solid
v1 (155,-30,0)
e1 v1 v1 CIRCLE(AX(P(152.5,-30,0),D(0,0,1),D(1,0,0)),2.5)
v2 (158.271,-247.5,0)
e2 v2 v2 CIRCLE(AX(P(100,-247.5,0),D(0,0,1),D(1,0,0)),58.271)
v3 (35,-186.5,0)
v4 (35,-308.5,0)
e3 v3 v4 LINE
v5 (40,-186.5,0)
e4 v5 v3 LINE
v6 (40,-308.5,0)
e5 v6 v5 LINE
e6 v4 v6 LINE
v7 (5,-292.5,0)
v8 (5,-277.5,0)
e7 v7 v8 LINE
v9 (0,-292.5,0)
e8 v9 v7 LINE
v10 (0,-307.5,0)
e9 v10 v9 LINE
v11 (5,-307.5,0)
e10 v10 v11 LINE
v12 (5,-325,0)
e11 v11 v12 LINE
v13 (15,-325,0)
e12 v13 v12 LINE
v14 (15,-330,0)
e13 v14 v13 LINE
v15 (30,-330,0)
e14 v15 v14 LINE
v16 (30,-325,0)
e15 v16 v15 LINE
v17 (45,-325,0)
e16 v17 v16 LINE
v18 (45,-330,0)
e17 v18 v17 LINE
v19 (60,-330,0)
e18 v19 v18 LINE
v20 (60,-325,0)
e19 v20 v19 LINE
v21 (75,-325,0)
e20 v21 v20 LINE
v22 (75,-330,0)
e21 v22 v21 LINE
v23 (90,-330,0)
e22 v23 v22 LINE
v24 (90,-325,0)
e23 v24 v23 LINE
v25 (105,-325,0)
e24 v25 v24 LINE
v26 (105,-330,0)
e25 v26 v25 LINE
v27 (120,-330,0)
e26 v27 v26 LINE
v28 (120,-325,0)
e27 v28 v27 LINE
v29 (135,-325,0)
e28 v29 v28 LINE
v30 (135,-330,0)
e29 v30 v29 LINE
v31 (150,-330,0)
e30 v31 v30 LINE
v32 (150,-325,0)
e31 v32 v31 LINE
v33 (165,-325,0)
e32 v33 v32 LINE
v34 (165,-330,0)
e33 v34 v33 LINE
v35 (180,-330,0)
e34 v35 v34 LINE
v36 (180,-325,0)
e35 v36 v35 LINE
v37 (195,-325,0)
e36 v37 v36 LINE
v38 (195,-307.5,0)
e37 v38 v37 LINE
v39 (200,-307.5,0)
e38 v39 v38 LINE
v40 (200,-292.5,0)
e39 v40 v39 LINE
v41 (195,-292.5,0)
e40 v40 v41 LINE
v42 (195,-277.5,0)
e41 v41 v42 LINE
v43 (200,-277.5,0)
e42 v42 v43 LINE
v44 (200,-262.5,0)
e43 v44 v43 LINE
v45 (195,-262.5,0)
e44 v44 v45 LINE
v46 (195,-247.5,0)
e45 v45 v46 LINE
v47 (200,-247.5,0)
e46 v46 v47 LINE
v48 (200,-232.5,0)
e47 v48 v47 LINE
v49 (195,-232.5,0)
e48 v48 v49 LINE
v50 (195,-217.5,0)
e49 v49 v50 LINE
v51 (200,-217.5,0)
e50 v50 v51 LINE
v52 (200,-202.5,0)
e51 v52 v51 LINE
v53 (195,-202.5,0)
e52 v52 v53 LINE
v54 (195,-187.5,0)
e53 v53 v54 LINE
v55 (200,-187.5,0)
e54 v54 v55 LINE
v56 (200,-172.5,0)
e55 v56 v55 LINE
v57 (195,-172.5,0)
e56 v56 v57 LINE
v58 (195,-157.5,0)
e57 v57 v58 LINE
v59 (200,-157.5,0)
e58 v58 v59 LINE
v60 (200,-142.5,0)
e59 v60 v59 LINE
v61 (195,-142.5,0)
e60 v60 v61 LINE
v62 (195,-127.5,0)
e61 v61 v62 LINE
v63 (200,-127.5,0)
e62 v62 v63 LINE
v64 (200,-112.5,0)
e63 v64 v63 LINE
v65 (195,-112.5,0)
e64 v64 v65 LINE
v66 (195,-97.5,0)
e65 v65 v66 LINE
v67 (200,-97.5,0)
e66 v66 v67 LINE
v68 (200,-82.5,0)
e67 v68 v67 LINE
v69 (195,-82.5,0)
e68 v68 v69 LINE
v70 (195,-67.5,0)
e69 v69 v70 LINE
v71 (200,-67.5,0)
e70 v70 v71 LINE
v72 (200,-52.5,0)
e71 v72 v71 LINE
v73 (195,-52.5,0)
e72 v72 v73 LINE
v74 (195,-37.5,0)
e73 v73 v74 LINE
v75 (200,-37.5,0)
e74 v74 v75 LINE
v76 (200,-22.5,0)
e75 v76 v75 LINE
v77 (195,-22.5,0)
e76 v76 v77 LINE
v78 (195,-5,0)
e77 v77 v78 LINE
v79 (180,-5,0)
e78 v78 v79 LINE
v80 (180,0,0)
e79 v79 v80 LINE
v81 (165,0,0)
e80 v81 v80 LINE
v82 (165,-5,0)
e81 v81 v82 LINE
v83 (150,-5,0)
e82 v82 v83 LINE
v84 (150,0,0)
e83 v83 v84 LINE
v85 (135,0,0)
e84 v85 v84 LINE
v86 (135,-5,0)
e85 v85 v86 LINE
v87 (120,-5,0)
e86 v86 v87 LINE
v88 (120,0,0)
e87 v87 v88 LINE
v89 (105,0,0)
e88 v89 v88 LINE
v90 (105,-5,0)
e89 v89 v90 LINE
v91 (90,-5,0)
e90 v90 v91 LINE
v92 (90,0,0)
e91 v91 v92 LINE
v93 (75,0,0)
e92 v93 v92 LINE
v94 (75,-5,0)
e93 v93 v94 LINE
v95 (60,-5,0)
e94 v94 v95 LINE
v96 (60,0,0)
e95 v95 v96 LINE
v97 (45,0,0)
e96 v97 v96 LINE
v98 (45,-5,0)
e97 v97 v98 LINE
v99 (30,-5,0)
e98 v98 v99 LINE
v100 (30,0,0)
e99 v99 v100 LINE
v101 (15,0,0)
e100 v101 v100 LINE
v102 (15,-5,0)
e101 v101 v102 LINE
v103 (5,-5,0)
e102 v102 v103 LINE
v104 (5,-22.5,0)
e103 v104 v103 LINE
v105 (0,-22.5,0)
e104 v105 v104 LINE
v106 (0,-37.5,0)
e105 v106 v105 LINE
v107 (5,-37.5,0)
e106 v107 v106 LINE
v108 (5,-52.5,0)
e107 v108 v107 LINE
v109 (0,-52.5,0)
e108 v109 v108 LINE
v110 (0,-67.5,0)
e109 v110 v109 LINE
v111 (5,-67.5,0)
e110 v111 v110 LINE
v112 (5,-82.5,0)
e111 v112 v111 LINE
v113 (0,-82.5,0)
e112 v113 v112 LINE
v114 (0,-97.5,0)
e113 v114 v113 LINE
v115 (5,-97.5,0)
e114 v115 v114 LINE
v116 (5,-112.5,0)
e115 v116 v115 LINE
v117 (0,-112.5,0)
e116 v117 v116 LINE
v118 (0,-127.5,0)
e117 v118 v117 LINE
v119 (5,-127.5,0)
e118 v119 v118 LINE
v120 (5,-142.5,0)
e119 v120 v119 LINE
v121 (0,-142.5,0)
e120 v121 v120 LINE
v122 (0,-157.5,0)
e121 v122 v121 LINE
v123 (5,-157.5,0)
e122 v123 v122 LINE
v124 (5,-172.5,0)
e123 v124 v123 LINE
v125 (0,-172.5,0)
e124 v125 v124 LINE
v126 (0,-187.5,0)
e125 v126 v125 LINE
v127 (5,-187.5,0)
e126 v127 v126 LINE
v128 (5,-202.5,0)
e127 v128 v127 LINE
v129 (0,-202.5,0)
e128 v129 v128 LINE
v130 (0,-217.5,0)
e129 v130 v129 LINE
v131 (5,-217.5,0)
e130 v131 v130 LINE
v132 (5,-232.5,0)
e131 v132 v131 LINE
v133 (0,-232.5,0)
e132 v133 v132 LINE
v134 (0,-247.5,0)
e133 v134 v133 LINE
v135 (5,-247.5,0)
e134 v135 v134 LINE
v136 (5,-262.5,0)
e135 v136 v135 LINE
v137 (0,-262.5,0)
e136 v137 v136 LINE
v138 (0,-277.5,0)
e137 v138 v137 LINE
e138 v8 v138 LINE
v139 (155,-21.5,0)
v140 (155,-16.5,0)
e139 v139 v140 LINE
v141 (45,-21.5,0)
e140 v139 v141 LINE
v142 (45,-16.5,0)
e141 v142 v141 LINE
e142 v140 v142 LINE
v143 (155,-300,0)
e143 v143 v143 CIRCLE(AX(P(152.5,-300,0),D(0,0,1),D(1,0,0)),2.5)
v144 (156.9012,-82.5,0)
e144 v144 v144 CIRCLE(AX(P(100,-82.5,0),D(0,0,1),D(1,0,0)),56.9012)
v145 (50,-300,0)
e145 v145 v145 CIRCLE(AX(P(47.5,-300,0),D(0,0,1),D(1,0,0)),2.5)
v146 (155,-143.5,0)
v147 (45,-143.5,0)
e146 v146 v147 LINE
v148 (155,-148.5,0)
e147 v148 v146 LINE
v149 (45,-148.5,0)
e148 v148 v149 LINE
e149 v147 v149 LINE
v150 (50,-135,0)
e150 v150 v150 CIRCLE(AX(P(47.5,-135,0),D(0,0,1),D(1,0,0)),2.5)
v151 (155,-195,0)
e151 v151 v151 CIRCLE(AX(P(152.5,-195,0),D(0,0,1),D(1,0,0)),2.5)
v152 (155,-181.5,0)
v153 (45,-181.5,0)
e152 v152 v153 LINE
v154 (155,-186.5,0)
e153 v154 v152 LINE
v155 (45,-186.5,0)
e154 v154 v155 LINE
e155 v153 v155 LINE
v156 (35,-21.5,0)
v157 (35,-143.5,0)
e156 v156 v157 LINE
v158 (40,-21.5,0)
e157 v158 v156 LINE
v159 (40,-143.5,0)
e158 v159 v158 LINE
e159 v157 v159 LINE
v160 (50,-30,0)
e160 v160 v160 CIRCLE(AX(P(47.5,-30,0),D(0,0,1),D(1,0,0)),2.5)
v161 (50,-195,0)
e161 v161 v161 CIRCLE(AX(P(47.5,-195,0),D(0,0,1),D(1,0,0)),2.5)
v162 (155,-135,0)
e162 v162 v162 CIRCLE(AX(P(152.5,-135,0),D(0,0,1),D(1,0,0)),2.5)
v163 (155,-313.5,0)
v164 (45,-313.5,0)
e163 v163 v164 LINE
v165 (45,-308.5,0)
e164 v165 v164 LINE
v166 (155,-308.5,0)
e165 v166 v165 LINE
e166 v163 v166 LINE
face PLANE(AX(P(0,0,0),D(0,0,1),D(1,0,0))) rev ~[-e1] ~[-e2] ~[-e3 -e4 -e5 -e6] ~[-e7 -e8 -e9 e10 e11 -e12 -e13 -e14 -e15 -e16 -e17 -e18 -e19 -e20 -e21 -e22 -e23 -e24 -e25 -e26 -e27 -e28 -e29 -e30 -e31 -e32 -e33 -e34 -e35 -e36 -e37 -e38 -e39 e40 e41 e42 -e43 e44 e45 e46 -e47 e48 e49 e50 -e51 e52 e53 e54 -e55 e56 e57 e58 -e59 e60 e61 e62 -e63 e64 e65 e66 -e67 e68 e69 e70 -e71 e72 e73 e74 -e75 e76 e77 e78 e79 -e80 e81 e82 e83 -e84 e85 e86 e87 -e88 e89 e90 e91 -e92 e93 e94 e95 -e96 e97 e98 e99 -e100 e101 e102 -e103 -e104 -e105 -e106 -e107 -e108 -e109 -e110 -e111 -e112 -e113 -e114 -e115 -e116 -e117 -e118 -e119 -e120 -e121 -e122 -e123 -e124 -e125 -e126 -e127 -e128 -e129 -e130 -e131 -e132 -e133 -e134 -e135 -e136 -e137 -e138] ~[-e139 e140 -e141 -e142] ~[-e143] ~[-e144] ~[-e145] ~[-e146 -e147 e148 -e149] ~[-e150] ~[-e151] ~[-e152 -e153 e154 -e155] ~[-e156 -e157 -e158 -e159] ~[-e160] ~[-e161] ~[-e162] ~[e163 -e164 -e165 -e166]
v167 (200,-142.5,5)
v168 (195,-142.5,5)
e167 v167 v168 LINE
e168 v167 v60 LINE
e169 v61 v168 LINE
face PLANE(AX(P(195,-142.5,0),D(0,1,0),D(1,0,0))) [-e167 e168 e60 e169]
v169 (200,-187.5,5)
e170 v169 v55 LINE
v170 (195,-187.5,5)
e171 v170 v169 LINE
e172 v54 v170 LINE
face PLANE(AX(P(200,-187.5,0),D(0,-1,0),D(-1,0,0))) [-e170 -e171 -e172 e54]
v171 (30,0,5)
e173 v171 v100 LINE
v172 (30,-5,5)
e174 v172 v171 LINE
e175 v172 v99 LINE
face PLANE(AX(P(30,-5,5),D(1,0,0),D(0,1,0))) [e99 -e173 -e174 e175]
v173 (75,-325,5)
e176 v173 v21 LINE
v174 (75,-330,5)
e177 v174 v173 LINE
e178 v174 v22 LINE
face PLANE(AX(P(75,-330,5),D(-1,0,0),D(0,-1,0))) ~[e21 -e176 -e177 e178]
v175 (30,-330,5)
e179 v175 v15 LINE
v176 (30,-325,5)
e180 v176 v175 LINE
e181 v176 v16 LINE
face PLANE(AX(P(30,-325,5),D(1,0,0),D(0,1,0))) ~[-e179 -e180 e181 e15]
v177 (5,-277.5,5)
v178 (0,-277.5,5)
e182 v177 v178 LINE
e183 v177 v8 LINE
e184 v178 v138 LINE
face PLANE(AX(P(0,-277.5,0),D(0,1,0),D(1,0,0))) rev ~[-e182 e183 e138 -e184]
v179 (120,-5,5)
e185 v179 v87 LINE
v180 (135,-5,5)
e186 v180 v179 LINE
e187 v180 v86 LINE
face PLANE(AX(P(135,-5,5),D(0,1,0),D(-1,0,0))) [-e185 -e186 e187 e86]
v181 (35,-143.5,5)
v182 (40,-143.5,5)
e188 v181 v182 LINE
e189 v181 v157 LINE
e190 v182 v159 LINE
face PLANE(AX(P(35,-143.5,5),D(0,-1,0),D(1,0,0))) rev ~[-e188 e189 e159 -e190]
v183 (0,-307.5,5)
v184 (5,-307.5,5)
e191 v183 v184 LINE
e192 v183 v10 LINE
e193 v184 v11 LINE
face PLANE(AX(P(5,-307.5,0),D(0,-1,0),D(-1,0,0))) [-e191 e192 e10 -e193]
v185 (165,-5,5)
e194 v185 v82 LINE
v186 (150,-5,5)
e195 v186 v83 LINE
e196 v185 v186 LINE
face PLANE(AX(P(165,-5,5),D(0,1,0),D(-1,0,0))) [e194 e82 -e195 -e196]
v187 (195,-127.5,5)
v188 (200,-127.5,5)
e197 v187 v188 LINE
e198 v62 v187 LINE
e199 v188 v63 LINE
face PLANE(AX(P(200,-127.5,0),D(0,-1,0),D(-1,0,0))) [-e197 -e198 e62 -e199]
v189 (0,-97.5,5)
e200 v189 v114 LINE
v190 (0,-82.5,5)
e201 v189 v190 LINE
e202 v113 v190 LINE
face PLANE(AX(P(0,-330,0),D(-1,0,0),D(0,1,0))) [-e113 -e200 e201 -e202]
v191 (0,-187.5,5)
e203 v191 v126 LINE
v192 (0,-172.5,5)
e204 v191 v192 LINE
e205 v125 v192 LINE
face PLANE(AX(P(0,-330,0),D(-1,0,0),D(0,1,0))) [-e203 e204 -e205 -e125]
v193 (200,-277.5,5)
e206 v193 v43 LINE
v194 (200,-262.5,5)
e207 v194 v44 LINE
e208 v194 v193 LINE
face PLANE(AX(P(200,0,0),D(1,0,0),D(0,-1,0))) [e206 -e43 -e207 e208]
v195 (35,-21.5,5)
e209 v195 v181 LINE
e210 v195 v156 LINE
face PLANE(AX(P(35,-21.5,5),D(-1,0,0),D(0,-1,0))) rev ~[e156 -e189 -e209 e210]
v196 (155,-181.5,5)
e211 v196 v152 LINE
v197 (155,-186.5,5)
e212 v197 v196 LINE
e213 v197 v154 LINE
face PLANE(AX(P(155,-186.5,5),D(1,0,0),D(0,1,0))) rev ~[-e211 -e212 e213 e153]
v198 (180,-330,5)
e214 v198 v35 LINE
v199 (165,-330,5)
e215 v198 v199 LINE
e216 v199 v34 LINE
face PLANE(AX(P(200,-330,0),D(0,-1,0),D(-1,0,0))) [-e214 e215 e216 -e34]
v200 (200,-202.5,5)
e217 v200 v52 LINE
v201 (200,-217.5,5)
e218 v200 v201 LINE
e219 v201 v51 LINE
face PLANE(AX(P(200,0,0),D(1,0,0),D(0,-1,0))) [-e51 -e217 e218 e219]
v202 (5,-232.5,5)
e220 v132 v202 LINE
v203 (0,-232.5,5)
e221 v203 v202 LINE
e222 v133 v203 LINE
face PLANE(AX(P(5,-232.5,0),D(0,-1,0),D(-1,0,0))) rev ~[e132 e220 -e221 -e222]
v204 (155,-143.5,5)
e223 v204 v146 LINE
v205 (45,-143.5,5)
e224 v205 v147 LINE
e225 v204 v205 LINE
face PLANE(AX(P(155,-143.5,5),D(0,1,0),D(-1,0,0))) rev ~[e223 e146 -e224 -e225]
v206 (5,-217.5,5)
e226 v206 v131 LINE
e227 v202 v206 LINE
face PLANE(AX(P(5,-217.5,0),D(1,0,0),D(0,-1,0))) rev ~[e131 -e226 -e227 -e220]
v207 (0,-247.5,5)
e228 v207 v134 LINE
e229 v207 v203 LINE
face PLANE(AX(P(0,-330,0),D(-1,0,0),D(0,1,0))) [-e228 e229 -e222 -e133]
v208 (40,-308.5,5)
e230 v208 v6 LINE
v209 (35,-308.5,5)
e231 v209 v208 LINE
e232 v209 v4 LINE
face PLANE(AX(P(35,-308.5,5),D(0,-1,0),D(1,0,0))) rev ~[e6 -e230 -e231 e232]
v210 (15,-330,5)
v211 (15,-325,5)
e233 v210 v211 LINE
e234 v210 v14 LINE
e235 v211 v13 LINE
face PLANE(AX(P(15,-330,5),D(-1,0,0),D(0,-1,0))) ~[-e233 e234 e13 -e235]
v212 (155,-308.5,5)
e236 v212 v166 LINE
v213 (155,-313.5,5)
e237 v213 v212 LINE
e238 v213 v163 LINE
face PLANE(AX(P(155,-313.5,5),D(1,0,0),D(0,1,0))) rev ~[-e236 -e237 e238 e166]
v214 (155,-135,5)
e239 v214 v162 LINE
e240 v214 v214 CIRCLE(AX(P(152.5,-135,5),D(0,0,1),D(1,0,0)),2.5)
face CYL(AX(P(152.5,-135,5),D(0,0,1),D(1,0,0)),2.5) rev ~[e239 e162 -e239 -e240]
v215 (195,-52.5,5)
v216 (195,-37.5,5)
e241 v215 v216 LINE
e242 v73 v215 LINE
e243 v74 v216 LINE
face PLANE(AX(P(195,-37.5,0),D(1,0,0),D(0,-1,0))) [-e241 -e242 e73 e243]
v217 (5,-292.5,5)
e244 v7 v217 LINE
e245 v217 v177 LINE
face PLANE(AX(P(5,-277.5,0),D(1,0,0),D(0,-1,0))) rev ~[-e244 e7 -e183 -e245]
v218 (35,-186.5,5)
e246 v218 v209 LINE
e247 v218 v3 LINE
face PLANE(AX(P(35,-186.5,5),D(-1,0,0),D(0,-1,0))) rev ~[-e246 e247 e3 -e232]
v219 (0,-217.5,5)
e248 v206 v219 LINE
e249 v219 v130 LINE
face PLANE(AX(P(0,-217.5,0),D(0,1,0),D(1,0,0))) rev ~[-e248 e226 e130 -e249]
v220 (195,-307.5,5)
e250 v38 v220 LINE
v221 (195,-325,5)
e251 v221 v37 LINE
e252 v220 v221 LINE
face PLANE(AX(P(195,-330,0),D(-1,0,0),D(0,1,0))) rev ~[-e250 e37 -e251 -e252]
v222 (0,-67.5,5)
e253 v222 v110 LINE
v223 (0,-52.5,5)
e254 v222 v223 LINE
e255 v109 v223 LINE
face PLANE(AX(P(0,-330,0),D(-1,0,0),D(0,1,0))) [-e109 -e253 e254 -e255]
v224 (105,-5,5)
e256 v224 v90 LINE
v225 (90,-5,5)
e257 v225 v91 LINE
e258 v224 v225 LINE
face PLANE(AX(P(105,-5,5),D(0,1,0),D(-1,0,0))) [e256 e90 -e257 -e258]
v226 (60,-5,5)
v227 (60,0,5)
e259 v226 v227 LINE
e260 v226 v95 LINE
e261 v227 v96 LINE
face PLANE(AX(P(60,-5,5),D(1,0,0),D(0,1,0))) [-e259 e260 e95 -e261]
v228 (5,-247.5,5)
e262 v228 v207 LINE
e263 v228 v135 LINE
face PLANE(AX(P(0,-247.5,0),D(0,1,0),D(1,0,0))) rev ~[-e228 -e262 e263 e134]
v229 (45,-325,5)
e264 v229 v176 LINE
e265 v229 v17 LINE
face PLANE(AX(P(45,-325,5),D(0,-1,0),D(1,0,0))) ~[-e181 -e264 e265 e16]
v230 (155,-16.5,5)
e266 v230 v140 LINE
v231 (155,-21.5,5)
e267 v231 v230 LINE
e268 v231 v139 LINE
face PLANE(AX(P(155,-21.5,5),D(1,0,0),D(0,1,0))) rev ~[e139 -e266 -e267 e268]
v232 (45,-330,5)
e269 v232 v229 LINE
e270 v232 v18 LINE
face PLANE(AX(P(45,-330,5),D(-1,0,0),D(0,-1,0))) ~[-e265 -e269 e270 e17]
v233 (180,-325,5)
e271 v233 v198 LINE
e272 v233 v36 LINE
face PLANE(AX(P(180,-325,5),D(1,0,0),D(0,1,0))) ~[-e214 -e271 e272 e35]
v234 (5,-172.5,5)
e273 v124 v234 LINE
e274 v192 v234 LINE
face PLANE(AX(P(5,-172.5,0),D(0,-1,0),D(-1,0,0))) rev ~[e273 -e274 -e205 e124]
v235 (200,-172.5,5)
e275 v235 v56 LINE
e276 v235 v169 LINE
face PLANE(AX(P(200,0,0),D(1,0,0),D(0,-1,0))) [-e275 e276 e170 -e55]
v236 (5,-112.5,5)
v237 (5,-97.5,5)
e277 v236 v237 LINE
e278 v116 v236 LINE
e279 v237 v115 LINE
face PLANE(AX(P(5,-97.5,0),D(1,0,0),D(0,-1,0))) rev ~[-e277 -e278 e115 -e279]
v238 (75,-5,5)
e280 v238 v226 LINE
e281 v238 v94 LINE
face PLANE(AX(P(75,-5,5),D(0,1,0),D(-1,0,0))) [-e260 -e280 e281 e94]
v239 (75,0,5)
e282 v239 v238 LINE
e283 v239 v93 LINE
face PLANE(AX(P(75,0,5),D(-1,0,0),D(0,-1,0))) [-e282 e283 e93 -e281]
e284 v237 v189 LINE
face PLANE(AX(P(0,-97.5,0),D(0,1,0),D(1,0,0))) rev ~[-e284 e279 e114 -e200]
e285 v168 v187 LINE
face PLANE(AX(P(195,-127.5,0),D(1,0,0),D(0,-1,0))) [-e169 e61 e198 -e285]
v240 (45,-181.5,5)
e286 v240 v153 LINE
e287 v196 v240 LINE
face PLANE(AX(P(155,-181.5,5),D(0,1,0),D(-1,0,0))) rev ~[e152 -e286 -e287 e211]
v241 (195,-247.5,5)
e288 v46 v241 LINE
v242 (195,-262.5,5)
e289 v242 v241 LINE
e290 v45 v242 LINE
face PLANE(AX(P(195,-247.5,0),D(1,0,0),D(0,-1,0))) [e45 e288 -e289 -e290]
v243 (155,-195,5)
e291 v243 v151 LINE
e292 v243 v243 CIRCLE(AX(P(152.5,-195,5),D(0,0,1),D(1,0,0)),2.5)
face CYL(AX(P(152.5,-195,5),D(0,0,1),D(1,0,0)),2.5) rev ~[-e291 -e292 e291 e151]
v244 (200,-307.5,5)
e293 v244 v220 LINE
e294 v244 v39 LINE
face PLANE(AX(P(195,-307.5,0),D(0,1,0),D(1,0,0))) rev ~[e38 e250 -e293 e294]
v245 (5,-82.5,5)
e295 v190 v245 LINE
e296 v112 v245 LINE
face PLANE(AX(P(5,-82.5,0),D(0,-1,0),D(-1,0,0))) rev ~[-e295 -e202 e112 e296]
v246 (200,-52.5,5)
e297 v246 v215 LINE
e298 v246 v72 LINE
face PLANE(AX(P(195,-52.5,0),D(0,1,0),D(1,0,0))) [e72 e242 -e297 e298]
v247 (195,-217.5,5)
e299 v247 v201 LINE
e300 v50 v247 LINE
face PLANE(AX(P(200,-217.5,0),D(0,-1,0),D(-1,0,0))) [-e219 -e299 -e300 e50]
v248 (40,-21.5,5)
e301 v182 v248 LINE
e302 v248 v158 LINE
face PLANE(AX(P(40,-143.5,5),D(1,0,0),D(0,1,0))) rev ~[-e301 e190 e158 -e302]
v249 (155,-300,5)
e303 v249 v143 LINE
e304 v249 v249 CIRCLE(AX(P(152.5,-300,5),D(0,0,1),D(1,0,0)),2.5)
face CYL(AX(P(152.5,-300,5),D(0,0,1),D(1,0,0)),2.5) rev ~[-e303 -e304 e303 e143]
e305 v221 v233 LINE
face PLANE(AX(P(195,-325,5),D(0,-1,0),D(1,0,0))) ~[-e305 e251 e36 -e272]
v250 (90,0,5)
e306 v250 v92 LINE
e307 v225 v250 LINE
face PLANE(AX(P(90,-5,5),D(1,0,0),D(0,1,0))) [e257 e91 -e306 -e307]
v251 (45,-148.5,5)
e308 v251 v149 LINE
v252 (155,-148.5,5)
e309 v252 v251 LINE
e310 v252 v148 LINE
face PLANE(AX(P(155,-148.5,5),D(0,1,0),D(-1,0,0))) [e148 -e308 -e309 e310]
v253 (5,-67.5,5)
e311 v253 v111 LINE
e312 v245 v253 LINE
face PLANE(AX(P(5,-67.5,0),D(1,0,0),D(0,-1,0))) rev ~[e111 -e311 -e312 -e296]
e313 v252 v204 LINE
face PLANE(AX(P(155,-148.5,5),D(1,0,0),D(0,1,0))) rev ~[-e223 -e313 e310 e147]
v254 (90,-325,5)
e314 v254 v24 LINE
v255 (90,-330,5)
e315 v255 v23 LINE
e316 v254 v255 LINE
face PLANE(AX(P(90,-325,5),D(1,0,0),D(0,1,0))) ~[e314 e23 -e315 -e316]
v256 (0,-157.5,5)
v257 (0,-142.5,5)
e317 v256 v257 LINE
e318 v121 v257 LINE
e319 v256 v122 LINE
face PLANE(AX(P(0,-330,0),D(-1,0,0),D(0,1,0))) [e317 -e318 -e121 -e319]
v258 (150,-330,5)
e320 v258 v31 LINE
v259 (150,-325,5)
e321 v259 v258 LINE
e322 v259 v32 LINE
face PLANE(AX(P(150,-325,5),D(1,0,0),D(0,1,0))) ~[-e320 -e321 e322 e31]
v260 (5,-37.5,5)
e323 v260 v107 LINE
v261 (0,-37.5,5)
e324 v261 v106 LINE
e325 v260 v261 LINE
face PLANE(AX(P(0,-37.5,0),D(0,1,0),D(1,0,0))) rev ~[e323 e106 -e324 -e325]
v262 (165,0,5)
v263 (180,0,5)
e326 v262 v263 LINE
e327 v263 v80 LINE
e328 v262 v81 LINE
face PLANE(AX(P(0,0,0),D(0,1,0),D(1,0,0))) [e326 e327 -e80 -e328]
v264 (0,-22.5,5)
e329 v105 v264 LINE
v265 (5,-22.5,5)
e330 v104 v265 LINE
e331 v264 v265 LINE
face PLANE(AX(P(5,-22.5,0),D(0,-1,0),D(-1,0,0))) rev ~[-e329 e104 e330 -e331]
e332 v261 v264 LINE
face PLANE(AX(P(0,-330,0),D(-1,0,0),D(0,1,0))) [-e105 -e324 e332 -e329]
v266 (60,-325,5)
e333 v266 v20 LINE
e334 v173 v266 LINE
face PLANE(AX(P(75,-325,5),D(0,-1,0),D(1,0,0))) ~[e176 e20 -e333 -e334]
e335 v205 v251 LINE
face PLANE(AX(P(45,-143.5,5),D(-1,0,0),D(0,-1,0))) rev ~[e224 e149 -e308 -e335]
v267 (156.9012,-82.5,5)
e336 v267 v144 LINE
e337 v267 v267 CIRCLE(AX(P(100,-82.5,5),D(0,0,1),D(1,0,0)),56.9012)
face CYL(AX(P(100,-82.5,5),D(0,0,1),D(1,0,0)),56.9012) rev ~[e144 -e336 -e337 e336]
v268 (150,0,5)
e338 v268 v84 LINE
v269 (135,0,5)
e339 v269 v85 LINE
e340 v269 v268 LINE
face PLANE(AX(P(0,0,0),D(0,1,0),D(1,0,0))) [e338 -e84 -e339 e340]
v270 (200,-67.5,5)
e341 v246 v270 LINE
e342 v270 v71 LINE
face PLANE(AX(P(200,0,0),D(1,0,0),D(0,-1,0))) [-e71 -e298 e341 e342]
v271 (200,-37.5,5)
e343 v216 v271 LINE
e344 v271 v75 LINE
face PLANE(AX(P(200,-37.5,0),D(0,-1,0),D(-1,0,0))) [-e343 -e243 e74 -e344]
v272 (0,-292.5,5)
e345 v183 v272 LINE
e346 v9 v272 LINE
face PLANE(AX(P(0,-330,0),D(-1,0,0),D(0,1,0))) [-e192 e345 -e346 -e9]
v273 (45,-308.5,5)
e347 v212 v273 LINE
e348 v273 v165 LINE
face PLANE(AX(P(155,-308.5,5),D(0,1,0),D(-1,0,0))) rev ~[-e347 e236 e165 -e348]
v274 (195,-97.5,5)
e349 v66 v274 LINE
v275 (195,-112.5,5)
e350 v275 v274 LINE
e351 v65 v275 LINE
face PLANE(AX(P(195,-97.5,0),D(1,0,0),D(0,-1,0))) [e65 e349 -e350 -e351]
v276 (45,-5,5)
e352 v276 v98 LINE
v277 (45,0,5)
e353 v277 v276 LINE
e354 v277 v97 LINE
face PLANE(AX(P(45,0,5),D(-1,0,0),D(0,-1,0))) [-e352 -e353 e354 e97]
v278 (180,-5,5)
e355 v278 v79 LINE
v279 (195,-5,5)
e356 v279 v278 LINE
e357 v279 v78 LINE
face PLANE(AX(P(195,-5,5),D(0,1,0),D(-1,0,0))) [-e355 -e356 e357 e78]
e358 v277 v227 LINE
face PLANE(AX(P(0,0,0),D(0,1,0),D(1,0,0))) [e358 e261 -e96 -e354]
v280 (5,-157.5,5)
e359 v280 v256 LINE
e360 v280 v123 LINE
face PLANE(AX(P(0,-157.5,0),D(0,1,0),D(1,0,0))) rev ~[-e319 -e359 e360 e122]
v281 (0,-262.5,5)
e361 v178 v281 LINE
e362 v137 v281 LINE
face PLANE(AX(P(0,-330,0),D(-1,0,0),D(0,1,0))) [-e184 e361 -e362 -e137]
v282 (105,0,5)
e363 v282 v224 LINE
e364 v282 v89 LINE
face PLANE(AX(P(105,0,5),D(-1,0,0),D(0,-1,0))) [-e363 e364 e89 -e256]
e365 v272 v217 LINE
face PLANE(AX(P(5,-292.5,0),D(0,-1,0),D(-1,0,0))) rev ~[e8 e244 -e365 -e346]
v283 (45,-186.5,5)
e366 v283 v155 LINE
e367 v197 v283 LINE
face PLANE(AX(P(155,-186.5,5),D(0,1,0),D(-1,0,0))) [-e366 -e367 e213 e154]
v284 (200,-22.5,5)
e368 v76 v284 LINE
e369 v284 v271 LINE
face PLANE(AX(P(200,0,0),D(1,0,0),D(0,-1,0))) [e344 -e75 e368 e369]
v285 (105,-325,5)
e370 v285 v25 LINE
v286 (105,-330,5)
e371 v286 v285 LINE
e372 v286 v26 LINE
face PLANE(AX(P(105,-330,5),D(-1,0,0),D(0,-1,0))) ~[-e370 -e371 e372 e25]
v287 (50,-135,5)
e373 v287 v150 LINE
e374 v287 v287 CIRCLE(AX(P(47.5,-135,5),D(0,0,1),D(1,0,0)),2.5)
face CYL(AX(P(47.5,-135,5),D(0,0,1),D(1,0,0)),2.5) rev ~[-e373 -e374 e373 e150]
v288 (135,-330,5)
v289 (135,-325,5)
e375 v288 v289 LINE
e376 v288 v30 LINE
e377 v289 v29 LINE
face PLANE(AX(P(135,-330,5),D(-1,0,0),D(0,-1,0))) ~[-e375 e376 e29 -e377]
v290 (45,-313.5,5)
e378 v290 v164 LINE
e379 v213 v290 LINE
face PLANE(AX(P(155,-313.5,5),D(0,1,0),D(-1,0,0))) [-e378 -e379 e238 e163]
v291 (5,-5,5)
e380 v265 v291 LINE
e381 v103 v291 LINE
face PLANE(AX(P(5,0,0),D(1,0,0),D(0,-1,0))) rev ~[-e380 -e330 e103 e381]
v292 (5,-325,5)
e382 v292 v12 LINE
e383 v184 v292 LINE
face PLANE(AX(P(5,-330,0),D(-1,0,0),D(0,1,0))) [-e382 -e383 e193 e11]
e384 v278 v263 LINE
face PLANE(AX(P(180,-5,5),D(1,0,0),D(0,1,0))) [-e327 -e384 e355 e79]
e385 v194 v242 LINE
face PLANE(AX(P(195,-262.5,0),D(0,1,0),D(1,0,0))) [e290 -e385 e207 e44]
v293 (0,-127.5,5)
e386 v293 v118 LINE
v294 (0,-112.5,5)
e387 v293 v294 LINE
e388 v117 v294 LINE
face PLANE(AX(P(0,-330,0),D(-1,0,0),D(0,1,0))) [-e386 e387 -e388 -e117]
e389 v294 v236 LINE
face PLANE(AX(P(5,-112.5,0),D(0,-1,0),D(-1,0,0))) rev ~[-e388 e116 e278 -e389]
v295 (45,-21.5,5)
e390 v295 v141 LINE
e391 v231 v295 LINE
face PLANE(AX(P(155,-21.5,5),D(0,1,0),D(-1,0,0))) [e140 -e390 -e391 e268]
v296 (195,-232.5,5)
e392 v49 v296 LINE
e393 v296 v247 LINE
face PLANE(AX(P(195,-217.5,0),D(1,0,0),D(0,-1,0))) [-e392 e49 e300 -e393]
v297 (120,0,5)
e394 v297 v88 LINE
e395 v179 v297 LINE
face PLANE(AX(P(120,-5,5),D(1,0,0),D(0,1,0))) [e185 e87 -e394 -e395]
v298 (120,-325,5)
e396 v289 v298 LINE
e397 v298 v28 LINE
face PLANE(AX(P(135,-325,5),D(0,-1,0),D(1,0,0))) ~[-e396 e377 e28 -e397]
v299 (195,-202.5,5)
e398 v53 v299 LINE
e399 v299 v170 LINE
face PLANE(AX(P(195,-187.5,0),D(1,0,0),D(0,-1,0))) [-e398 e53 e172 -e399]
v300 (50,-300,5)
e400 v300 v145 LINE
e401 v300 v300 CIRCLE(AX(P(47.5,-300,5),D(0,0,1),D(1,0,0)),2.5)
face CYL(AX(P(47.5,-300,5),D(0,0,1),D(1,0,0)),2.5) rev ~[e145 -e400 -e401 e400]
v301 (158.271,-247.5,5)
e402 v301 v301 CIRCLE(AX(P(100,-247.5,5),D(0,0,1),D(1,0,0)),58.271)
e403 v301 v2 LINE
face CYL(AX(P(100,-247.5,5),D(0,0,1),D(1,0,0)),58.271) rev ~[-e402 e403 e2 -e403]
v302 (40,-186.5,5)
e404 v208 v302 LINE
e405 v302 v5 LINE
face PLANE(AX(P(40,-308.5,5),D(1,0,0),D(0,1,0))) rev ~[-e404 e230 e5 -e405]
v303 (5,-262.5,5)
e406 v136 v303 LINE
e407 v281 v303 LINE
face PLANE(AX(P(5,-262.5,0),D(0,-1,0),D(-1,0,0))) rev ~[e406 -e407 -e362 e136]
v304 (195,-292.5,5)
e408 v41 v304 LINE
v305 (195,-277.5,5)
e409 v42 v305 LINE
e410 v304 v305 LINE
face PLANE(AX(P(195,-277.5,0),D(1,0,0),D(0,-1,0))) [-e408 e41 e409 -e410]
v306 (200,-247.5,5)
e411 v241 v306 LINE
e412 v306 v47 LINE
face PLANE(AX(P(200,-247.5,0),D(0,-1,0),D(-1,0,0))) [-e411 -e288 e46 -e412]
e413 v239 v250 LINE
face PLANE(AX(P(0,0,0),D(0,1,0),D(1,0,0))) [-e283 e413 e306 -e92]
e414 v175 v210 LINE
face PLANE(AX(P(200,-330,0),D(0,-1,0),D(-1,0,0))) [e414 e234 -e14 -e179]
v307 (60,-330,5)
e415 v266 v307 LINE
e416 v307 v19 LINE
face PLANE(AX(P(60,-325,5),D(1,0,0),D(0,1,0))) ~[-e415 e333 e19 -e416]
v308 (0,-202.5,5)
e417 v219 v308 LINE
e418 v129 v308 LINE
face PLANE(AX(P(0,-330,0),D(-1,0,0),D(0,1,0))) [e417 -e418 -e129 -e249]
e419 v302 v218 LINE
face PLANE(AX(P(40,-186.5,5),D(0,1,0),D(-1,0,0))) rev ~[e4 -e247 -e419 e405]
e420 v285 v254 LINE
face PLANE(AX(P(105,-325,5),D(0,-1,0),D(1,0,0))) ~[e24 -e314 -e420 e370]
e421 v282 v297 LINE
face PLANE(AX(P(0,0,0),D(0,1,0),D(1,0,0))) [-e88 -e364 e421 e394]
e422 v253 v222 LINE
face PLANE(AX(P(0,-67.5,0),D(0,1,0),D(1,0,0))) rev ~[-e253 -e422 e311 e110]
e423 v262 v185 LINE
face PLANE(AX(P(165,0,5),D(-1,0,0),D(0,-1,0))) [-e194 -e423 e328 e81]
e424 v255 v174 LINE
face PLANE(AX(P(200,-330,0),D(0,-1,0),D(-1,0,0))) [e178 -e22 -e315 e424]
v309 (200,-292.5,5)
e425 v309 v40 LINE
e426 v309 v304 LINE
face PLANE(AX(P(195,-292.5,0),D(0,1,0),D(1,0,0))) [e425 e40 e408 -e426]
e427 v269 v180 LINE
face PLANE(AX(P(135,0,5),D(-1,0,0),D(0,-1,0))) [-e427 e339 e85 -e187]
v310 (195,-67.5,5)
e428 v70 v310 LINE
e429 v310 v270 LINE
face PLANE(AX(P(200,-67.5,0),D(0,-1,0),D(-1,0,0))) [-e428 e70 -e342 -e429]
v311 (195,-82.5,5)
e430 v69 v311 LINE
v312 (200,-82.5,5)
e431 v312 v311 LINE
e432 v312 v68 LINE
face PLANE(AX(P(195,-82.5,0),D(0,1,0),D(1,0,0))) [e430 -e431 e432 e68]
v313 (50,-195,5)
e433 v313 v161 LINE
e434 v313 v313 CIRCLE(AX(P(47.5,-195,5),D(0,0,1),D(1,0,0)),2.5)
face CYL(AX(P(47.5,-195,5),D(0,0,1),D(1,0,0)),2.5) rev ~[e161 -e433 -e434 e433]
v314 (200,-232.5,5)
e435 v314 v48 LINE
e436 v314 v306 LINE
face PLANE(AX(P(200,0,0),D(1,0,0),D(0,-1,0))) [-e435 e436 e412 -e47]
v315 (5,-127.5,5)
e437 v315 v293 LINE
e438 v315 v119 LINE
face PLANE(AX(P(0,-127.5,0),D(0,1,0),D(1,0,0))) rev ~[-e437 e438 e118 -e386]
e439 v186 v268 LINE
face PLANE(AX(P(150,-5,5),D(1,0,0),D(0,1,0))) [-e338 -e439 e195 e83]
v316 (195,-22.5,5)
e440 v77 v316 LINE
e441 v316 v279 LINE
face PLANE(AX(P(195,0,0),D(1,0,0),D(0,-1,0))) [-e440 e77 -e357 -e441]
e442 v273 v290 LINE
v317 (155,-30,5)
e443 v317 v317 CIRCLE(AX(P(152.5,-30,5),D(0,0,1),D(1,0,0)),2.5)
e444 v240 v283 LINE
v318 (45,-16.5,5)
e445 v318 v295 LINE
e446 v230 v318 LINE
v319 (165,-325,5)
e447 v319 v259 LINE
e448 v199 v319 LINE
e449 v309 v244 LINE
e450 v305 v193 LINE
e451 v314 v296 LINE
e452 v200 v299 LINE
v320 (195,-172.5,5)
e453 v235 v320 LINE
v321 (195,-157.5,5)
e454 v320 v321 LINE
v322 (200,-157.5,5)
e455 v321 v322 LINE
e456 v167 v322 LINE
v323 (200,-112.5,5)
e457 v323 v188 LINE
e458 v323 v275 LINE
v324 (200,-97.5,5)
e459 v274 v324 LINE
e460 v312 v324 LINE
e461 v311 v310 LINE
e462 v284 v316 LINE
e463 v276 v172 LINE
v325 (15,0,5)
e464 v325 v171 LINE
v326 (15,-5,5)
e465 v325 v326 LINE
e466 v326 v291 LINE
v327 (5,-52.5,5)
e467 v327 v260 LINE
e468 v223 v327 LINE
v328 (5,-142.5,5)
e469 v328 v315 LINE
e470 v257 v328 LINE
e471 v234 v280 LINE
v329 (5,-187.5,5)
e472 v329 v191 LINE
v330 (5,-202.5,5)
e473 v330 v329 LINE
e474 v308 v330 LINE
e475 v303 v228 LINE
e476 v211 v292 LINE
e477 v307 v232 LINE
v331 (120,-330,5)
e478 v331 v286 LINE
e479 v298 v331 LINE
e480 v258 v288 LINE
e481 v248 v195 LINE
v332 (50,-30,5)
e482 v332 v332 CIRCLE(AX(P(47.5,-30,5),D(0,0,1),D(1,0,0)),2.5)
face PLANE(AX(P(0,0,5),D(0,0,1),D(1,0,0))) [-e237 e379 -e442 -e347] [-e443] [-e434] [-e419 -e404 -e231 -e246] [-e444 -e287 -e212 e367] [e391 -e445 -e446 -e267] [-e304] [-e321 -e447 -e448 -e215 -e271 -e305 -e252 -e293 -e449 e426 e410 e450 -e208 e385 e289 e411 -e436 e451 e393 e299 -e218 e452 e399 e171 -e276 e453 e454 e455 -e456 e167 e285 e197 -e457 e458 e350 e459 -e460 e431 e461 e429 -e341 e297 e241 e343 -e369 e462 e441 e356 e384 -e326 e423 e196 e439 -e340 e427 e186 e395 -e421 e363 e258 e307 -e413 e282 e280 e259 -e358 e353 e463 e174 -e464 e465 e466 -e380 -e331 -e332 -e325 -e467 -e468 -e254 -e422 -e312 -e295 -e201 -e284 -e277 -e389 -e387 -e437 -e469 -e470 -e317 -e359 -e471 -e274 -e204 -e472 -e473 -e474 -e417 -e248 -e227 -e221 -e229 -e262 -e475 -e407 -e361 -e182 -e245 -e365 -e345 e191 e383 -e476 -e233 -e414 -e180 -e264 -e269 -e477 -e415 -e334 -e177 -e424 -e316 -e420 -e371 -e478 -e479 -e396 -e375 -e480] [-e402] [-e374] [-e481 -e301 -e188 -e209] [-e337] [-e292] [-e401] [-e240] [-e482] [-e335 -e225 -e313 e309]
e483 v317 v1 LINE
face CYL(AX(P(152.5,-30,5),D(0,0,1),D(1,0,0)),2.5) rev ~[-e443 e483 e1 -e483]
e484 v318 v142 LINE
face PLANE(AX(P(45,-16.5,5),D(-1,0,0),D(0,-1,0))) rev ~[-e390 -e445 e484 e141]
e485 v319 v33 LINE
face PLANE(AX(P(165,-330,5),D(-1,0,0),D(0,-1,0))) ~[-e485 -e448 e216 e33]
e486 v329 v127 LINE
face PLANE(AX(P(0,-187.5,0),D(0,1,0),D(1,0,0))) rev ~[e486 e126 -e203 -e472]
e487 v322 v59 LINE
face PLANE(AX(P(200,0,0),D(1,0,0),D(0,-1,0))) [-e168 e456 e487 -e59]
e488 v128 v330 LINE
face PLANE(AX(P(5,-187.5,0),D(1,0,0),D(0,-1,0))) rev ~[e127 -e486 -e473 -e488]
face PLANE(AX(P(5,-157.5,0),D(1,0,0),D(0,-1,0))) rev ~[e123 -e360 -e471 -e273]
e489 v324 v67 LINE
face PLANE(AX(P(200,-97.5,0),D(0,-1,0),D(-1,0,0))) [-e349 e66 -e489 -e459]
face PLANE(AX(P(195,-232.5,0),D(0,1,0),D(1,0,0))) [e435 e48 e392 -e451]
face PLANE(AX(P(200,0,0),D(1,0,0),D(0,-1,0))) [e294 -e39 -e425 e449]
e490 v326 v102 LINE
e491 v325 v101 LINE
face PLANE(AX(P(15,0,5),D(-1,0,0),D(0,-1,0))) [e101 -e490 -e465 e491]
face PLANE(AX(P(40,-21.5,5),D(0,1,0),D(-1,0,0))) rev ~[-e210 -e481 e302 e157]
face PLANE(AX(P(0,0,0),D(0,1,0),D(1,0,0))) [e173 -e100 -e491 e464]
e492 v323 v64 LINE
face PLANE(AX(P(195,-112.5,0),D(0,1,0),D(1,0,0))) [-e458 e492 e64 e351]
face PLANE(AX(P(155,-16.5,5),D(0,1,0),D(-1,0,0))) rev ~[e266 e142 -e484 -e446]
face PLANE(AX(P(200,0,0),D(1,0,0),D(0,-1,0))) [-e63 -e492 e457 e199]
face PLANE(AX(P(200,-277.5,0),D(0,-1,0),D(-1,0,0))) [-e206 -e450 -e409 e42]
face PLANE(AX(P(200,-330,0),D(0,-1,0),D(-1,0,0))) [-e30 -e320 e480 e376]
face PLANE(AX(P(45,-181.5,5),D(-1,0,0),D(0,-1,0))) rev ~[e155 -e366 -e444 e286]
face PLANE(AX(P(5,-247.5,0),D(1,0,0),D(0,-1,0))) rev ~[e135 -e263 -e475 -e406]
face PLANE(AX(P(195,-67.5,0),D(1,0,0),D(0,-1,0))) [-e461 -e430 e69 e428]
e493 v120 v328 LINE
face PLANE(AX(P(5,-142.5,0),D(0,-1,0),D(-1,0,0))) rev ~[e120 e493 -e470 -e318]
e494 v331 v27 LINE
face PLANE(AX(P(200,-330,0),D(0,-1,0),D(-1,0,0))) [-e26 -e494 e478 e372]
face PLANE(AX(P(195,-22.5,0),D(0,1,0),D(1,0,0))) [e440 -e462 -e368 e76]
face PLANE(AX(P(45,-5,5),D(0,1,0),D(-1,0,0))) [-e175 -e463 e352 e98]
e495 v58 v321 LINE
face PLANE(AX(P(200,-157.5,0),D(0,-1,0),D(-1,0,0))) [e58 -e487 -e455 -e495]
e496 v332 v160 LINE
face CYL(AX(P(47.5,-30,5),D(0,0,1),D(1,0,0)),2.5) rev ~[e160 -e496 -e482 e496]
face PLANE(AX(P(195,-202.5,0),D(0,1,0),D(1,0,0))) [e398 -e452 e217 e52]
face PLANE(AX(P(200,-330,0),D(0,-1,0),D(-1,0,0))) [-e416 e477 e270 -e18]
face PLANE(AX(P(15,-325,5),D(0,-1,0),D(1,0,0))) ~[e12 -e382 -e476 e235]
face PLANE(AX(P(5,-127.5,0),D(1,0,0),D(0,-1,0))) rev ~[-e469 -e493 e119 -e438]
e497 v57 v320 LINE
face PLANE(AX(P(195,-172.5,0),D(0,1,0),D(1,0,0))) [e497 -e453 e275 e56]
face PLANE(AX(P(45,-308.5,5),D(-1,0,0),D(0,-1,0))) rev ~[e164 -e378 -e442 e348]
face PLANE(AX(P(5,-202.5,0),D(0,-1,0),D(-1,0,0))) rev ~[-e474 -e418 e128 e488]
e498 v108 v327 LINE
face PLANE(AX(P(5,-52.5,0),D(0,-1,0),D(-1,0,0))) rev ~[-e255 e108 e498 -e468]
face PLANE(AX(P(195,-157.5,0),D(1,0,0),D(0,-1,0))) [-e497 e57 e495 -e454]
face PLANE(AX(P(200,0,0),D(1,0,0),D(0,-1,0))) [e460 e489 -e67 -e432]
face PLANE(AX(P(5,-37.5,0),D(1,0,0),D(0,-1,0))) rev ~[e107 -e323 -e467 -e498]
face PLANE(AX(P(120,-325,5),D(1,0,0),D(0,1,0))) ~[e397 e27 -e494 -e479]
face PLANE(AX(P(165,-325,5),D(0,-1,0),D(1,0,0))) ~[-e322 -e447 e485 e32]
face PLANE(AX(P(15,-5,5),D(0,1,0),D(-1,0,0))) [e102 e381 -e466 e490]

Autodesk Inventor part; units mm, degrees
ref_plane "YZ Plane" through (0, 0, 0) normal (1, 0, 0) x (0, 1, 0)
ref_plane "XZ Plane" through (0, 0, 0) normal (0, 1, 0) x (-1, 0, 0)
ref_plane "XY Plane" through (0, 0, 0) normal (0, 0, 1) x (1, 0, 0)
sketch "Sketch1" plane through (0, 0, 0) normal (0, 0, 1) x (1, 0, 0)
  line L0 (0, 0) -> (200, 0)
  line L1 (200, 0) -> (200, -330)
  line L2 (200, -330) -> (0, -330)
  line L3 (0, -330) -> (0, 0)
  dimension "d0" = 200
  dimension "d1" = 330
extrude "Extrusion1" add sketch "Sketch1" along normal blind 5
sketch "Sketch2" plane through (0, 0, 0) normal (0, 0, -1) x (-1, 0, 0)
  line L0 (0, 0) -> (-5, 0)
  line L1 (-5, 0) -> (-5, -22.5)
  line L2 (-5, -22.5) -> (0, -22.5)
  line L3 (0, -22.5) -> (0, 0)
  line L4 (-200, 0) -> (0, 0) projected
  line L5 (0, 0) -> (0, -330) projected
  line L6 (0, -37.5) -> (-5, -37.5)
  line L7 (-5, -37.5) -> (-5, -52.5)
  line L8 (-5, -52.5) -> (0, -52.5)
  line L9 (0, -52.5) -> (0, -37.5)
  line L10 (0, -30) -> (-5, -30)
  line L11 (0, -67.5) -> (-5, -67.5)
  line L12 (-5, -67.5) -> (-5, -82.5)
  line L13 (-5, -82.5) -> (0, -82.5)
  line L14 (0, -82.5) -> (0, -67.5)
  line L15 (0, -60) -> (-5, -60)
  line L16 (0, -97.5) -> (-5, -97.5)
  line L17 (-5, -97.5) -> (-5, -112.5)
  line L18 (-5, -112.5) -> (0, -112.5)
  line L19 (0, -112.5) -> (0, -97.5)
  line L20 (0, -90) -> (-5, -90)
  line L21 (0, -127.5) -> (-5, -127.5)
  line L22 (-5, -127.5) -> (-5, -142.5)
  line L23 (-5, -142.5) -> (0, -142.5)
  line L24 (0, -142.5) -> (0, -127.5)
  line L25 (0, -120) -> (-5, -120)
  line L26 (0, -157.5) -> (-5, -157.5)
  line L27 (-5, -157.5) -> (-5, -172.5)
  line L28 (-5, -172.5) -> (0, -172.5)
  line L29 (0, -172.5) -> (0, -157.5)
  line L30 (0, -150) -> (-5, -150)
  line L31 (0, -187.5) -> (-5, -187.5)
  line L32 (-5, -187.5) -> (-5, -202.5)
  line L33 (-5, -202.5) -> (0, -202.5)
  line L34 (0, -202.5) -> (0, -187.5)
  line L35 (0, -180) -> (-5, -180)
  line L36 (0, -217.5) -> (-5, -217.5)
  line L37 (-5, -217.5) -> (-5, -232.5)
  line L38 (-5, -232.5) -> (0, -232.5)
  line L39 (0, -232.5) -> (0, -217.5)
  line L40 (0, -210) -> (-5, -210)
  line L41 (0, -247.5) -> (-5, -247.5)
  line L42 (-5, -247.5) -> (-5, -262.5)
  line L43 (-5, -262.5) -> (0, -262.5)
  line L44 (0, -262.5) -> (0, -247.5)
  line L45 (0, -330) -> (-5, -330)
  line L46 (-5, -330) -> (-5, -307.5)
  line L47 (-5, -307.5) -> (0, -307.5)
  line L48 (0, -307.5) -> (0, -330)
  line L49 (-200, 0) -> (0, 0) projected
  line L50 (-100, 0) -> (-100, -60)
  line L51 (-200, 0) -> (-195, 0)
  line L52 (-195, 0) -> (-195, -22.5)
  line L53 (-195, -22.5) -> (-200, -22.5)
  line L54 (-200, -22.5) -> (-200, 0)
  line L55 (0, 0) -> (-200, 0)
  line L56 (-200, 0) -> (-200, -330)
  line L57 (-200, -37.5) -> (-195, -37.5)
  line L58 (-195, -37.5) -> (-195, -52.5)
  line L59 (-195, -52.5) -> (-200, -52.5)
  line L60 (-200, -52.5) -> (-200, -37.5)
  line L61 (-200, -30) -> (-195, -30)
  line L62 (-200, -67.5) -> (-195, -67.5)
  line L63 (-195, -67.5) -> (-195, -82.5)
  line L64 (-195, -82.5) -> (-200, -82.5)
  line L65 (-200, -82.5) -> (-200, -67.5)
  line L66 (-200, -60) -> (-195, -60)
  line L67 (-200, -97.5) -> (-195, -97.5)
  line L68 (-195, -97.5) -> (-195, -112.5)
  line L69 (-195, -112.5) -> (-200, -112.5)
  line L70 (-200, -112.5) -> (-200, -97.5)
  line L71 (-200, -90) -> (-195, -90)
  line L72 (-200, -127.5) -> (-195, -127.5)
  line L73 (-195, -127.5) -> (-195, -142.5)
  line L74 (-195, -142.5) -> (-200, -142.5)
  line L75 (-200, -142.5) -> (-200, -127.5)
  line L76 (-200, -120) -> (-195, -120)
  line L77 (-200, -157.5) -> (-195, -157.5)
  line L78 (-195, -157.5) -> (-195, -172.5)
  line L79 (-195, -172.5) -> (-200, -172.5)
  line L80 (-200, -172.5) -> (-200, -157.5)
  line L81 (-200, -150) -> (-195, -150)
  line L82 (-200, -187.5) -> (-195, -187.5)
  line L83 (-195, -187.5) -> (-195, -202.5)
  line L84 (-195, -202.5) -> (-200, -202.5)
  line L85 (-200, -202.5) -> (-200, -187.5)
  line L86 (-200, -180) -> (-195, -180)
  line L87 (-200, -217.5) -> (-195, -217.5)
  line L88 (-195, -217.5) -> (-195, -232.5)
  line L89 (-195, -232.5) -> (-200, -232.5)
  line L90 (-200, -232.5) -> (-200, -217.5)
  line L91 (-200, -210) -> (-195, -210)
  line L92 (-200, -247.5) -> (-195, -247.5)
  line L93 (-195, -247.5) -> (-195, -262.5)
  line L94 (-195, -262.5) -> (-200, -262.5)
  line L95 (-200, -262.5) -> (-200, -247.5)
  line L96 (-200, -330) -> (-195, -330)
  line L97 (-195, -330) -> (-195, -307.5)
  line L98 (-195, -307.5) -> (-200, -307.5)
  line L99 (-200, -307.5) -> (-200, -330)
  line L100 (0, 0) -> (-200, 0)
  line L101 (0, -240) -> (-5, -240)
  line L102 (0, -277.5) -> (-5, -277.5)
  line L103 (-5, -277.5) -> (-5, -292.5)
  line L104 (-5, -292.5) -> (0, -292.5)
  line L105 (0, -292.5) -> (0, -277.5)
  line L106 (-200, -277.5) -> (-195, -277.5)
  line L107 (-195, -277.5) -> (-195, -292.5)
  line L108 (-195, -292.5) -> (-200, -292.5)
  line L109 (-200, -292.5) -> (-200, -277.5)
  point P0 (-200, -307.5)
  point P1 (0, -307.5)
  point P2 (-200, -187.5)
  point P3 (-200, -202.5)
  point P4 (0, -262.5)
  point P5 (0, -232.5)
  point P6 (0, -202.5)
  point P7 (-200, -82.5)
  point P8 (0, -172.5)
  point P9 (-200, -157.5)
  point P10 (-200, -172.5)
  point P11 (0, -142.5)
  point P12 (-200, -142.5)
  point P13 (0, -112.5)
  point P14 (-200, -97.5)
  point P15 (-200, -112.5)
  point P16 (0, -82.5)
  point P17 (-200, -247.5)
  point P18 (-200, -262.5)
  point P19 (-200, -22.5)
  point P20 (-195, 0)
  point P21 (-200, -232.5)
  point P22 (0, -292.5)
  point P23 (-200, -277.5)
  point P24 (-200, -292.5)
  dimension "d4" = 0
  dimension "d5" = 5
  dimension "d6" = 0
  dimension "d7" = 22.5
  dimension "d8" = 5
  dimension "d9" = 15
  dimension "d10" = 15
  dimension "d13" = 30
  dimension "d18" = 22.5
  dimension "d19" = 5
extrude "Extrusion2" cut sketch "Sketch2" against normal mid plane 20
sketch "Sketch3" plane through (0, 0, 5) normal (0, 0, 1) x (1, 0, 0)
  circle A0 centre (47.5, -30) radius 2.5
  circle A1 centre (152.5, -30) radius 2.5
  circle A2 centre (47.5, -135) radius 2.5
  circle A3 centre (152.5, -135) radius 2.5
  circle A4 centre (47.5, -195) radius 2.5
  circle A5 centre (152.5, -195) radius 2.5
  circle A6 centre (47.5, -300) radius 2.5
  circle A7 centre (152.5, -300) radius 2.5
  line L0 (5, 0) -> (5, -22.5) projected
  line L1 (195, -22.5) -> (195, 0) projected
  line L2 (5, -330) -> (195, -330) projected
  line L3 (195, 0) -> (5, 0) projected
  circle A8 centre (100, -82.5) radius 56.9012
  circle A9 centre (100, -247.5) radius 58.271
  line L4 (195, -202.5) -> (195, -187.5) projected
  point P0 (0, 0)
  dimension "d22" = 5
  dimension "d23" = 5
  dimension "d24" = 5
  dimension "d25" = 5
  dimension "d26" = 5
  dimension "d27" = 5
  dimension "d28" = 5
  dimension "d29" = 5
  dimension "d30" = 105
  dimension "d31" = 105
  dimension "d32" = 105
  dimension "d33" = 42.5
  dimension "d34" = 190
  dimension "d35" = 105
  dimension "d36" = 105
  dimension "d37" = 105
  dimension "d39" = 42.5
  dimension "d40" = 30
  dimension "d41" = 105
  dimension "d47" = 95
  dimension "d48" = 95
  dimension "d51" = 30
  dimension "d52" = 52.5
  dimension "d53" = 52.5
extrude "Extrusion3" cut sketch "Sketch3" along normal mid plane 20
sketch "Sketch4" plane through (0, 0, 5) normal (0, 0, 1) x (1, 0, 0)
  line L0 (155, -16.5) -> (45, -16.5) projected
  line L1 (155, -21.5) -> (45, -21.5) projected
  line L2 (155, -21.5) -> (155, -16.5) projected
  line L3 (45, -16.5) -> (45, -21.5) projected
  line L4 (155, -148.5) -> (45, -148.5) projected
  line L5 (155, -143.5) -> (45, -143.5) projected
  line L6 (155, -148.5) -> (155, -143.5) projected
  line L7 (45, -143.5) -> (45, -148.5) projected
  line L8 (155, -181.5) -> (45, -181.5) projected
  line L9 (155, -186.5) -> (45, -186.5) projected
  line L10 (155, -186.5) -> (155, -181.5) projected
  line L11 (45, -181.5) -> (45, -186.5) projected
  line L12 (155, -313.5) -> (45, -313.5) projected
  line L13 (155, -308.5) -> (45, -308.5) projected
  line L14 (155, -313.5) -> (155, -308.5) projected
  line L15 (45, -308.5) -> (45, -313.5) projected
  point P0 (0, 0)
extrude "Extrusion4" cut sketch "Sketch4" against normal blind 10
sketch "Sketch5" plane through (0, 0, 5) normal (0, 0, 1) x (1, 0, 0)
  line L0 (35, -21.5) -> (35, -143.5) projected
  line L1 (40, -143.5) -> (40, -21.5) projected
  line L2 (40, -21.5) -> (35, -21.5) projected
  line L3 (35, -143.5) -> (40, -143.5) projected
  line L4 (35, -186.5) -> (35, -308.5) projected
  line L5 (40, -308.5) -> (40, -186.5) projected
  line L6 (40, -186.5) -> (35, -186.5) projected
  line L7 (35, -308.5) -> (40, -308.5) projected
  point P0 (0, 0)
extrude "Extrusion5" cut sketch "Sketch5" against normal blind 10
sketch "Sketch6" plane through (0, 0, 5) normal (0, 0, 1) x (1, 0, 0)
  line L0 (0, 0) -> (15, 0)
  line L1 (15, 0) -> (15, -5)
  line L2 (15, -5) -> (0, -5)
  line L3 (0, -5) -> (0, 0)
  line L4 (30, 0) -> (45, 0)
  line L5 (45, 0) -> (45, -5)
  line L6 (45, -5) -> (30, -5)
  line L7 (30, -5) -> (30, 0)
  line L8 (60, 0) -> (75, 0)
  line L9 (75, 0) -> (75, -5)
  line L10 (75, -5) -> (60, -5)
  line L11 (60, -5) -> (60, 0)
  line L12 (90, 0) -> (105, 0)
  line L13 (105, 0) -> (105, -5)
  line L14 (105, -5) -> (90, -5)
  line L15 (90, -5) -> (90, 0)
  line L16 (120, 0) -> (135, 0)
  line L17 (135, 0) -> (135, -5)
  line L18 (135, -5) -> (120, -5)
  line L19 (120, -5) -> (120, 0)
  line L20 (150, 0) -> (165, 0)
  line L21 (165, 0) -> (165, -5)
  line L22 (165, -5) -> (150, -5)
  line L23 (150, -5) -> (150, 0)
  line L24 (180, 0) -> (195, 0)
  line L25 (195, 0) -> (195, -5)
  line L26 (195, -5) -> (180, -5)
  line L27 (180, -5) -> (180, 0)
  point P0 (195, 0)
  dimension "d58" = 5
  dimension "d59" = 15
  dimension "d62" = 30
extrude "Extrusion6" cut sketch "Sketch6" against normal blind 10
ref_plane "Work Plane1" through (165, -165, 0) normal (0, 1, 0) x (1, 0, 0)
mirror "Mirror1" about plane through (165, -165, 0) normal (0, 1, 0) of "Extrusion6"
equation "\"d2\" = WoodWidth"
equation "\"d5\" = WoodWidth - LaserWith"
equation "\"d8\" = d5"
equation "\"d18\" = d7"
equation "\"d19\" = d5"
equation "\"d20\" = 4 * WoodWidth"
equation "\"d33\" = -0.5 * d30 + 0.5 * d34"
equation "\"d39\" = d33"
equation "\"d40\" = d38"
equation "\"d47\" = d48"
equation "\"d48\" = 0.5 * d34"
equation "\"d51\" = d40"
equation "\"d52\" = 0.5 * d32"
equation "\"d53\" = d52"
equation "\"d42\" = 4 * WoodWidth"
equation "\"WoodWidth\" = 5"
equation "\"LaserWith\" = 0"
equation "\"d38\" = 30"
properties part number "BackFrontPannel"
